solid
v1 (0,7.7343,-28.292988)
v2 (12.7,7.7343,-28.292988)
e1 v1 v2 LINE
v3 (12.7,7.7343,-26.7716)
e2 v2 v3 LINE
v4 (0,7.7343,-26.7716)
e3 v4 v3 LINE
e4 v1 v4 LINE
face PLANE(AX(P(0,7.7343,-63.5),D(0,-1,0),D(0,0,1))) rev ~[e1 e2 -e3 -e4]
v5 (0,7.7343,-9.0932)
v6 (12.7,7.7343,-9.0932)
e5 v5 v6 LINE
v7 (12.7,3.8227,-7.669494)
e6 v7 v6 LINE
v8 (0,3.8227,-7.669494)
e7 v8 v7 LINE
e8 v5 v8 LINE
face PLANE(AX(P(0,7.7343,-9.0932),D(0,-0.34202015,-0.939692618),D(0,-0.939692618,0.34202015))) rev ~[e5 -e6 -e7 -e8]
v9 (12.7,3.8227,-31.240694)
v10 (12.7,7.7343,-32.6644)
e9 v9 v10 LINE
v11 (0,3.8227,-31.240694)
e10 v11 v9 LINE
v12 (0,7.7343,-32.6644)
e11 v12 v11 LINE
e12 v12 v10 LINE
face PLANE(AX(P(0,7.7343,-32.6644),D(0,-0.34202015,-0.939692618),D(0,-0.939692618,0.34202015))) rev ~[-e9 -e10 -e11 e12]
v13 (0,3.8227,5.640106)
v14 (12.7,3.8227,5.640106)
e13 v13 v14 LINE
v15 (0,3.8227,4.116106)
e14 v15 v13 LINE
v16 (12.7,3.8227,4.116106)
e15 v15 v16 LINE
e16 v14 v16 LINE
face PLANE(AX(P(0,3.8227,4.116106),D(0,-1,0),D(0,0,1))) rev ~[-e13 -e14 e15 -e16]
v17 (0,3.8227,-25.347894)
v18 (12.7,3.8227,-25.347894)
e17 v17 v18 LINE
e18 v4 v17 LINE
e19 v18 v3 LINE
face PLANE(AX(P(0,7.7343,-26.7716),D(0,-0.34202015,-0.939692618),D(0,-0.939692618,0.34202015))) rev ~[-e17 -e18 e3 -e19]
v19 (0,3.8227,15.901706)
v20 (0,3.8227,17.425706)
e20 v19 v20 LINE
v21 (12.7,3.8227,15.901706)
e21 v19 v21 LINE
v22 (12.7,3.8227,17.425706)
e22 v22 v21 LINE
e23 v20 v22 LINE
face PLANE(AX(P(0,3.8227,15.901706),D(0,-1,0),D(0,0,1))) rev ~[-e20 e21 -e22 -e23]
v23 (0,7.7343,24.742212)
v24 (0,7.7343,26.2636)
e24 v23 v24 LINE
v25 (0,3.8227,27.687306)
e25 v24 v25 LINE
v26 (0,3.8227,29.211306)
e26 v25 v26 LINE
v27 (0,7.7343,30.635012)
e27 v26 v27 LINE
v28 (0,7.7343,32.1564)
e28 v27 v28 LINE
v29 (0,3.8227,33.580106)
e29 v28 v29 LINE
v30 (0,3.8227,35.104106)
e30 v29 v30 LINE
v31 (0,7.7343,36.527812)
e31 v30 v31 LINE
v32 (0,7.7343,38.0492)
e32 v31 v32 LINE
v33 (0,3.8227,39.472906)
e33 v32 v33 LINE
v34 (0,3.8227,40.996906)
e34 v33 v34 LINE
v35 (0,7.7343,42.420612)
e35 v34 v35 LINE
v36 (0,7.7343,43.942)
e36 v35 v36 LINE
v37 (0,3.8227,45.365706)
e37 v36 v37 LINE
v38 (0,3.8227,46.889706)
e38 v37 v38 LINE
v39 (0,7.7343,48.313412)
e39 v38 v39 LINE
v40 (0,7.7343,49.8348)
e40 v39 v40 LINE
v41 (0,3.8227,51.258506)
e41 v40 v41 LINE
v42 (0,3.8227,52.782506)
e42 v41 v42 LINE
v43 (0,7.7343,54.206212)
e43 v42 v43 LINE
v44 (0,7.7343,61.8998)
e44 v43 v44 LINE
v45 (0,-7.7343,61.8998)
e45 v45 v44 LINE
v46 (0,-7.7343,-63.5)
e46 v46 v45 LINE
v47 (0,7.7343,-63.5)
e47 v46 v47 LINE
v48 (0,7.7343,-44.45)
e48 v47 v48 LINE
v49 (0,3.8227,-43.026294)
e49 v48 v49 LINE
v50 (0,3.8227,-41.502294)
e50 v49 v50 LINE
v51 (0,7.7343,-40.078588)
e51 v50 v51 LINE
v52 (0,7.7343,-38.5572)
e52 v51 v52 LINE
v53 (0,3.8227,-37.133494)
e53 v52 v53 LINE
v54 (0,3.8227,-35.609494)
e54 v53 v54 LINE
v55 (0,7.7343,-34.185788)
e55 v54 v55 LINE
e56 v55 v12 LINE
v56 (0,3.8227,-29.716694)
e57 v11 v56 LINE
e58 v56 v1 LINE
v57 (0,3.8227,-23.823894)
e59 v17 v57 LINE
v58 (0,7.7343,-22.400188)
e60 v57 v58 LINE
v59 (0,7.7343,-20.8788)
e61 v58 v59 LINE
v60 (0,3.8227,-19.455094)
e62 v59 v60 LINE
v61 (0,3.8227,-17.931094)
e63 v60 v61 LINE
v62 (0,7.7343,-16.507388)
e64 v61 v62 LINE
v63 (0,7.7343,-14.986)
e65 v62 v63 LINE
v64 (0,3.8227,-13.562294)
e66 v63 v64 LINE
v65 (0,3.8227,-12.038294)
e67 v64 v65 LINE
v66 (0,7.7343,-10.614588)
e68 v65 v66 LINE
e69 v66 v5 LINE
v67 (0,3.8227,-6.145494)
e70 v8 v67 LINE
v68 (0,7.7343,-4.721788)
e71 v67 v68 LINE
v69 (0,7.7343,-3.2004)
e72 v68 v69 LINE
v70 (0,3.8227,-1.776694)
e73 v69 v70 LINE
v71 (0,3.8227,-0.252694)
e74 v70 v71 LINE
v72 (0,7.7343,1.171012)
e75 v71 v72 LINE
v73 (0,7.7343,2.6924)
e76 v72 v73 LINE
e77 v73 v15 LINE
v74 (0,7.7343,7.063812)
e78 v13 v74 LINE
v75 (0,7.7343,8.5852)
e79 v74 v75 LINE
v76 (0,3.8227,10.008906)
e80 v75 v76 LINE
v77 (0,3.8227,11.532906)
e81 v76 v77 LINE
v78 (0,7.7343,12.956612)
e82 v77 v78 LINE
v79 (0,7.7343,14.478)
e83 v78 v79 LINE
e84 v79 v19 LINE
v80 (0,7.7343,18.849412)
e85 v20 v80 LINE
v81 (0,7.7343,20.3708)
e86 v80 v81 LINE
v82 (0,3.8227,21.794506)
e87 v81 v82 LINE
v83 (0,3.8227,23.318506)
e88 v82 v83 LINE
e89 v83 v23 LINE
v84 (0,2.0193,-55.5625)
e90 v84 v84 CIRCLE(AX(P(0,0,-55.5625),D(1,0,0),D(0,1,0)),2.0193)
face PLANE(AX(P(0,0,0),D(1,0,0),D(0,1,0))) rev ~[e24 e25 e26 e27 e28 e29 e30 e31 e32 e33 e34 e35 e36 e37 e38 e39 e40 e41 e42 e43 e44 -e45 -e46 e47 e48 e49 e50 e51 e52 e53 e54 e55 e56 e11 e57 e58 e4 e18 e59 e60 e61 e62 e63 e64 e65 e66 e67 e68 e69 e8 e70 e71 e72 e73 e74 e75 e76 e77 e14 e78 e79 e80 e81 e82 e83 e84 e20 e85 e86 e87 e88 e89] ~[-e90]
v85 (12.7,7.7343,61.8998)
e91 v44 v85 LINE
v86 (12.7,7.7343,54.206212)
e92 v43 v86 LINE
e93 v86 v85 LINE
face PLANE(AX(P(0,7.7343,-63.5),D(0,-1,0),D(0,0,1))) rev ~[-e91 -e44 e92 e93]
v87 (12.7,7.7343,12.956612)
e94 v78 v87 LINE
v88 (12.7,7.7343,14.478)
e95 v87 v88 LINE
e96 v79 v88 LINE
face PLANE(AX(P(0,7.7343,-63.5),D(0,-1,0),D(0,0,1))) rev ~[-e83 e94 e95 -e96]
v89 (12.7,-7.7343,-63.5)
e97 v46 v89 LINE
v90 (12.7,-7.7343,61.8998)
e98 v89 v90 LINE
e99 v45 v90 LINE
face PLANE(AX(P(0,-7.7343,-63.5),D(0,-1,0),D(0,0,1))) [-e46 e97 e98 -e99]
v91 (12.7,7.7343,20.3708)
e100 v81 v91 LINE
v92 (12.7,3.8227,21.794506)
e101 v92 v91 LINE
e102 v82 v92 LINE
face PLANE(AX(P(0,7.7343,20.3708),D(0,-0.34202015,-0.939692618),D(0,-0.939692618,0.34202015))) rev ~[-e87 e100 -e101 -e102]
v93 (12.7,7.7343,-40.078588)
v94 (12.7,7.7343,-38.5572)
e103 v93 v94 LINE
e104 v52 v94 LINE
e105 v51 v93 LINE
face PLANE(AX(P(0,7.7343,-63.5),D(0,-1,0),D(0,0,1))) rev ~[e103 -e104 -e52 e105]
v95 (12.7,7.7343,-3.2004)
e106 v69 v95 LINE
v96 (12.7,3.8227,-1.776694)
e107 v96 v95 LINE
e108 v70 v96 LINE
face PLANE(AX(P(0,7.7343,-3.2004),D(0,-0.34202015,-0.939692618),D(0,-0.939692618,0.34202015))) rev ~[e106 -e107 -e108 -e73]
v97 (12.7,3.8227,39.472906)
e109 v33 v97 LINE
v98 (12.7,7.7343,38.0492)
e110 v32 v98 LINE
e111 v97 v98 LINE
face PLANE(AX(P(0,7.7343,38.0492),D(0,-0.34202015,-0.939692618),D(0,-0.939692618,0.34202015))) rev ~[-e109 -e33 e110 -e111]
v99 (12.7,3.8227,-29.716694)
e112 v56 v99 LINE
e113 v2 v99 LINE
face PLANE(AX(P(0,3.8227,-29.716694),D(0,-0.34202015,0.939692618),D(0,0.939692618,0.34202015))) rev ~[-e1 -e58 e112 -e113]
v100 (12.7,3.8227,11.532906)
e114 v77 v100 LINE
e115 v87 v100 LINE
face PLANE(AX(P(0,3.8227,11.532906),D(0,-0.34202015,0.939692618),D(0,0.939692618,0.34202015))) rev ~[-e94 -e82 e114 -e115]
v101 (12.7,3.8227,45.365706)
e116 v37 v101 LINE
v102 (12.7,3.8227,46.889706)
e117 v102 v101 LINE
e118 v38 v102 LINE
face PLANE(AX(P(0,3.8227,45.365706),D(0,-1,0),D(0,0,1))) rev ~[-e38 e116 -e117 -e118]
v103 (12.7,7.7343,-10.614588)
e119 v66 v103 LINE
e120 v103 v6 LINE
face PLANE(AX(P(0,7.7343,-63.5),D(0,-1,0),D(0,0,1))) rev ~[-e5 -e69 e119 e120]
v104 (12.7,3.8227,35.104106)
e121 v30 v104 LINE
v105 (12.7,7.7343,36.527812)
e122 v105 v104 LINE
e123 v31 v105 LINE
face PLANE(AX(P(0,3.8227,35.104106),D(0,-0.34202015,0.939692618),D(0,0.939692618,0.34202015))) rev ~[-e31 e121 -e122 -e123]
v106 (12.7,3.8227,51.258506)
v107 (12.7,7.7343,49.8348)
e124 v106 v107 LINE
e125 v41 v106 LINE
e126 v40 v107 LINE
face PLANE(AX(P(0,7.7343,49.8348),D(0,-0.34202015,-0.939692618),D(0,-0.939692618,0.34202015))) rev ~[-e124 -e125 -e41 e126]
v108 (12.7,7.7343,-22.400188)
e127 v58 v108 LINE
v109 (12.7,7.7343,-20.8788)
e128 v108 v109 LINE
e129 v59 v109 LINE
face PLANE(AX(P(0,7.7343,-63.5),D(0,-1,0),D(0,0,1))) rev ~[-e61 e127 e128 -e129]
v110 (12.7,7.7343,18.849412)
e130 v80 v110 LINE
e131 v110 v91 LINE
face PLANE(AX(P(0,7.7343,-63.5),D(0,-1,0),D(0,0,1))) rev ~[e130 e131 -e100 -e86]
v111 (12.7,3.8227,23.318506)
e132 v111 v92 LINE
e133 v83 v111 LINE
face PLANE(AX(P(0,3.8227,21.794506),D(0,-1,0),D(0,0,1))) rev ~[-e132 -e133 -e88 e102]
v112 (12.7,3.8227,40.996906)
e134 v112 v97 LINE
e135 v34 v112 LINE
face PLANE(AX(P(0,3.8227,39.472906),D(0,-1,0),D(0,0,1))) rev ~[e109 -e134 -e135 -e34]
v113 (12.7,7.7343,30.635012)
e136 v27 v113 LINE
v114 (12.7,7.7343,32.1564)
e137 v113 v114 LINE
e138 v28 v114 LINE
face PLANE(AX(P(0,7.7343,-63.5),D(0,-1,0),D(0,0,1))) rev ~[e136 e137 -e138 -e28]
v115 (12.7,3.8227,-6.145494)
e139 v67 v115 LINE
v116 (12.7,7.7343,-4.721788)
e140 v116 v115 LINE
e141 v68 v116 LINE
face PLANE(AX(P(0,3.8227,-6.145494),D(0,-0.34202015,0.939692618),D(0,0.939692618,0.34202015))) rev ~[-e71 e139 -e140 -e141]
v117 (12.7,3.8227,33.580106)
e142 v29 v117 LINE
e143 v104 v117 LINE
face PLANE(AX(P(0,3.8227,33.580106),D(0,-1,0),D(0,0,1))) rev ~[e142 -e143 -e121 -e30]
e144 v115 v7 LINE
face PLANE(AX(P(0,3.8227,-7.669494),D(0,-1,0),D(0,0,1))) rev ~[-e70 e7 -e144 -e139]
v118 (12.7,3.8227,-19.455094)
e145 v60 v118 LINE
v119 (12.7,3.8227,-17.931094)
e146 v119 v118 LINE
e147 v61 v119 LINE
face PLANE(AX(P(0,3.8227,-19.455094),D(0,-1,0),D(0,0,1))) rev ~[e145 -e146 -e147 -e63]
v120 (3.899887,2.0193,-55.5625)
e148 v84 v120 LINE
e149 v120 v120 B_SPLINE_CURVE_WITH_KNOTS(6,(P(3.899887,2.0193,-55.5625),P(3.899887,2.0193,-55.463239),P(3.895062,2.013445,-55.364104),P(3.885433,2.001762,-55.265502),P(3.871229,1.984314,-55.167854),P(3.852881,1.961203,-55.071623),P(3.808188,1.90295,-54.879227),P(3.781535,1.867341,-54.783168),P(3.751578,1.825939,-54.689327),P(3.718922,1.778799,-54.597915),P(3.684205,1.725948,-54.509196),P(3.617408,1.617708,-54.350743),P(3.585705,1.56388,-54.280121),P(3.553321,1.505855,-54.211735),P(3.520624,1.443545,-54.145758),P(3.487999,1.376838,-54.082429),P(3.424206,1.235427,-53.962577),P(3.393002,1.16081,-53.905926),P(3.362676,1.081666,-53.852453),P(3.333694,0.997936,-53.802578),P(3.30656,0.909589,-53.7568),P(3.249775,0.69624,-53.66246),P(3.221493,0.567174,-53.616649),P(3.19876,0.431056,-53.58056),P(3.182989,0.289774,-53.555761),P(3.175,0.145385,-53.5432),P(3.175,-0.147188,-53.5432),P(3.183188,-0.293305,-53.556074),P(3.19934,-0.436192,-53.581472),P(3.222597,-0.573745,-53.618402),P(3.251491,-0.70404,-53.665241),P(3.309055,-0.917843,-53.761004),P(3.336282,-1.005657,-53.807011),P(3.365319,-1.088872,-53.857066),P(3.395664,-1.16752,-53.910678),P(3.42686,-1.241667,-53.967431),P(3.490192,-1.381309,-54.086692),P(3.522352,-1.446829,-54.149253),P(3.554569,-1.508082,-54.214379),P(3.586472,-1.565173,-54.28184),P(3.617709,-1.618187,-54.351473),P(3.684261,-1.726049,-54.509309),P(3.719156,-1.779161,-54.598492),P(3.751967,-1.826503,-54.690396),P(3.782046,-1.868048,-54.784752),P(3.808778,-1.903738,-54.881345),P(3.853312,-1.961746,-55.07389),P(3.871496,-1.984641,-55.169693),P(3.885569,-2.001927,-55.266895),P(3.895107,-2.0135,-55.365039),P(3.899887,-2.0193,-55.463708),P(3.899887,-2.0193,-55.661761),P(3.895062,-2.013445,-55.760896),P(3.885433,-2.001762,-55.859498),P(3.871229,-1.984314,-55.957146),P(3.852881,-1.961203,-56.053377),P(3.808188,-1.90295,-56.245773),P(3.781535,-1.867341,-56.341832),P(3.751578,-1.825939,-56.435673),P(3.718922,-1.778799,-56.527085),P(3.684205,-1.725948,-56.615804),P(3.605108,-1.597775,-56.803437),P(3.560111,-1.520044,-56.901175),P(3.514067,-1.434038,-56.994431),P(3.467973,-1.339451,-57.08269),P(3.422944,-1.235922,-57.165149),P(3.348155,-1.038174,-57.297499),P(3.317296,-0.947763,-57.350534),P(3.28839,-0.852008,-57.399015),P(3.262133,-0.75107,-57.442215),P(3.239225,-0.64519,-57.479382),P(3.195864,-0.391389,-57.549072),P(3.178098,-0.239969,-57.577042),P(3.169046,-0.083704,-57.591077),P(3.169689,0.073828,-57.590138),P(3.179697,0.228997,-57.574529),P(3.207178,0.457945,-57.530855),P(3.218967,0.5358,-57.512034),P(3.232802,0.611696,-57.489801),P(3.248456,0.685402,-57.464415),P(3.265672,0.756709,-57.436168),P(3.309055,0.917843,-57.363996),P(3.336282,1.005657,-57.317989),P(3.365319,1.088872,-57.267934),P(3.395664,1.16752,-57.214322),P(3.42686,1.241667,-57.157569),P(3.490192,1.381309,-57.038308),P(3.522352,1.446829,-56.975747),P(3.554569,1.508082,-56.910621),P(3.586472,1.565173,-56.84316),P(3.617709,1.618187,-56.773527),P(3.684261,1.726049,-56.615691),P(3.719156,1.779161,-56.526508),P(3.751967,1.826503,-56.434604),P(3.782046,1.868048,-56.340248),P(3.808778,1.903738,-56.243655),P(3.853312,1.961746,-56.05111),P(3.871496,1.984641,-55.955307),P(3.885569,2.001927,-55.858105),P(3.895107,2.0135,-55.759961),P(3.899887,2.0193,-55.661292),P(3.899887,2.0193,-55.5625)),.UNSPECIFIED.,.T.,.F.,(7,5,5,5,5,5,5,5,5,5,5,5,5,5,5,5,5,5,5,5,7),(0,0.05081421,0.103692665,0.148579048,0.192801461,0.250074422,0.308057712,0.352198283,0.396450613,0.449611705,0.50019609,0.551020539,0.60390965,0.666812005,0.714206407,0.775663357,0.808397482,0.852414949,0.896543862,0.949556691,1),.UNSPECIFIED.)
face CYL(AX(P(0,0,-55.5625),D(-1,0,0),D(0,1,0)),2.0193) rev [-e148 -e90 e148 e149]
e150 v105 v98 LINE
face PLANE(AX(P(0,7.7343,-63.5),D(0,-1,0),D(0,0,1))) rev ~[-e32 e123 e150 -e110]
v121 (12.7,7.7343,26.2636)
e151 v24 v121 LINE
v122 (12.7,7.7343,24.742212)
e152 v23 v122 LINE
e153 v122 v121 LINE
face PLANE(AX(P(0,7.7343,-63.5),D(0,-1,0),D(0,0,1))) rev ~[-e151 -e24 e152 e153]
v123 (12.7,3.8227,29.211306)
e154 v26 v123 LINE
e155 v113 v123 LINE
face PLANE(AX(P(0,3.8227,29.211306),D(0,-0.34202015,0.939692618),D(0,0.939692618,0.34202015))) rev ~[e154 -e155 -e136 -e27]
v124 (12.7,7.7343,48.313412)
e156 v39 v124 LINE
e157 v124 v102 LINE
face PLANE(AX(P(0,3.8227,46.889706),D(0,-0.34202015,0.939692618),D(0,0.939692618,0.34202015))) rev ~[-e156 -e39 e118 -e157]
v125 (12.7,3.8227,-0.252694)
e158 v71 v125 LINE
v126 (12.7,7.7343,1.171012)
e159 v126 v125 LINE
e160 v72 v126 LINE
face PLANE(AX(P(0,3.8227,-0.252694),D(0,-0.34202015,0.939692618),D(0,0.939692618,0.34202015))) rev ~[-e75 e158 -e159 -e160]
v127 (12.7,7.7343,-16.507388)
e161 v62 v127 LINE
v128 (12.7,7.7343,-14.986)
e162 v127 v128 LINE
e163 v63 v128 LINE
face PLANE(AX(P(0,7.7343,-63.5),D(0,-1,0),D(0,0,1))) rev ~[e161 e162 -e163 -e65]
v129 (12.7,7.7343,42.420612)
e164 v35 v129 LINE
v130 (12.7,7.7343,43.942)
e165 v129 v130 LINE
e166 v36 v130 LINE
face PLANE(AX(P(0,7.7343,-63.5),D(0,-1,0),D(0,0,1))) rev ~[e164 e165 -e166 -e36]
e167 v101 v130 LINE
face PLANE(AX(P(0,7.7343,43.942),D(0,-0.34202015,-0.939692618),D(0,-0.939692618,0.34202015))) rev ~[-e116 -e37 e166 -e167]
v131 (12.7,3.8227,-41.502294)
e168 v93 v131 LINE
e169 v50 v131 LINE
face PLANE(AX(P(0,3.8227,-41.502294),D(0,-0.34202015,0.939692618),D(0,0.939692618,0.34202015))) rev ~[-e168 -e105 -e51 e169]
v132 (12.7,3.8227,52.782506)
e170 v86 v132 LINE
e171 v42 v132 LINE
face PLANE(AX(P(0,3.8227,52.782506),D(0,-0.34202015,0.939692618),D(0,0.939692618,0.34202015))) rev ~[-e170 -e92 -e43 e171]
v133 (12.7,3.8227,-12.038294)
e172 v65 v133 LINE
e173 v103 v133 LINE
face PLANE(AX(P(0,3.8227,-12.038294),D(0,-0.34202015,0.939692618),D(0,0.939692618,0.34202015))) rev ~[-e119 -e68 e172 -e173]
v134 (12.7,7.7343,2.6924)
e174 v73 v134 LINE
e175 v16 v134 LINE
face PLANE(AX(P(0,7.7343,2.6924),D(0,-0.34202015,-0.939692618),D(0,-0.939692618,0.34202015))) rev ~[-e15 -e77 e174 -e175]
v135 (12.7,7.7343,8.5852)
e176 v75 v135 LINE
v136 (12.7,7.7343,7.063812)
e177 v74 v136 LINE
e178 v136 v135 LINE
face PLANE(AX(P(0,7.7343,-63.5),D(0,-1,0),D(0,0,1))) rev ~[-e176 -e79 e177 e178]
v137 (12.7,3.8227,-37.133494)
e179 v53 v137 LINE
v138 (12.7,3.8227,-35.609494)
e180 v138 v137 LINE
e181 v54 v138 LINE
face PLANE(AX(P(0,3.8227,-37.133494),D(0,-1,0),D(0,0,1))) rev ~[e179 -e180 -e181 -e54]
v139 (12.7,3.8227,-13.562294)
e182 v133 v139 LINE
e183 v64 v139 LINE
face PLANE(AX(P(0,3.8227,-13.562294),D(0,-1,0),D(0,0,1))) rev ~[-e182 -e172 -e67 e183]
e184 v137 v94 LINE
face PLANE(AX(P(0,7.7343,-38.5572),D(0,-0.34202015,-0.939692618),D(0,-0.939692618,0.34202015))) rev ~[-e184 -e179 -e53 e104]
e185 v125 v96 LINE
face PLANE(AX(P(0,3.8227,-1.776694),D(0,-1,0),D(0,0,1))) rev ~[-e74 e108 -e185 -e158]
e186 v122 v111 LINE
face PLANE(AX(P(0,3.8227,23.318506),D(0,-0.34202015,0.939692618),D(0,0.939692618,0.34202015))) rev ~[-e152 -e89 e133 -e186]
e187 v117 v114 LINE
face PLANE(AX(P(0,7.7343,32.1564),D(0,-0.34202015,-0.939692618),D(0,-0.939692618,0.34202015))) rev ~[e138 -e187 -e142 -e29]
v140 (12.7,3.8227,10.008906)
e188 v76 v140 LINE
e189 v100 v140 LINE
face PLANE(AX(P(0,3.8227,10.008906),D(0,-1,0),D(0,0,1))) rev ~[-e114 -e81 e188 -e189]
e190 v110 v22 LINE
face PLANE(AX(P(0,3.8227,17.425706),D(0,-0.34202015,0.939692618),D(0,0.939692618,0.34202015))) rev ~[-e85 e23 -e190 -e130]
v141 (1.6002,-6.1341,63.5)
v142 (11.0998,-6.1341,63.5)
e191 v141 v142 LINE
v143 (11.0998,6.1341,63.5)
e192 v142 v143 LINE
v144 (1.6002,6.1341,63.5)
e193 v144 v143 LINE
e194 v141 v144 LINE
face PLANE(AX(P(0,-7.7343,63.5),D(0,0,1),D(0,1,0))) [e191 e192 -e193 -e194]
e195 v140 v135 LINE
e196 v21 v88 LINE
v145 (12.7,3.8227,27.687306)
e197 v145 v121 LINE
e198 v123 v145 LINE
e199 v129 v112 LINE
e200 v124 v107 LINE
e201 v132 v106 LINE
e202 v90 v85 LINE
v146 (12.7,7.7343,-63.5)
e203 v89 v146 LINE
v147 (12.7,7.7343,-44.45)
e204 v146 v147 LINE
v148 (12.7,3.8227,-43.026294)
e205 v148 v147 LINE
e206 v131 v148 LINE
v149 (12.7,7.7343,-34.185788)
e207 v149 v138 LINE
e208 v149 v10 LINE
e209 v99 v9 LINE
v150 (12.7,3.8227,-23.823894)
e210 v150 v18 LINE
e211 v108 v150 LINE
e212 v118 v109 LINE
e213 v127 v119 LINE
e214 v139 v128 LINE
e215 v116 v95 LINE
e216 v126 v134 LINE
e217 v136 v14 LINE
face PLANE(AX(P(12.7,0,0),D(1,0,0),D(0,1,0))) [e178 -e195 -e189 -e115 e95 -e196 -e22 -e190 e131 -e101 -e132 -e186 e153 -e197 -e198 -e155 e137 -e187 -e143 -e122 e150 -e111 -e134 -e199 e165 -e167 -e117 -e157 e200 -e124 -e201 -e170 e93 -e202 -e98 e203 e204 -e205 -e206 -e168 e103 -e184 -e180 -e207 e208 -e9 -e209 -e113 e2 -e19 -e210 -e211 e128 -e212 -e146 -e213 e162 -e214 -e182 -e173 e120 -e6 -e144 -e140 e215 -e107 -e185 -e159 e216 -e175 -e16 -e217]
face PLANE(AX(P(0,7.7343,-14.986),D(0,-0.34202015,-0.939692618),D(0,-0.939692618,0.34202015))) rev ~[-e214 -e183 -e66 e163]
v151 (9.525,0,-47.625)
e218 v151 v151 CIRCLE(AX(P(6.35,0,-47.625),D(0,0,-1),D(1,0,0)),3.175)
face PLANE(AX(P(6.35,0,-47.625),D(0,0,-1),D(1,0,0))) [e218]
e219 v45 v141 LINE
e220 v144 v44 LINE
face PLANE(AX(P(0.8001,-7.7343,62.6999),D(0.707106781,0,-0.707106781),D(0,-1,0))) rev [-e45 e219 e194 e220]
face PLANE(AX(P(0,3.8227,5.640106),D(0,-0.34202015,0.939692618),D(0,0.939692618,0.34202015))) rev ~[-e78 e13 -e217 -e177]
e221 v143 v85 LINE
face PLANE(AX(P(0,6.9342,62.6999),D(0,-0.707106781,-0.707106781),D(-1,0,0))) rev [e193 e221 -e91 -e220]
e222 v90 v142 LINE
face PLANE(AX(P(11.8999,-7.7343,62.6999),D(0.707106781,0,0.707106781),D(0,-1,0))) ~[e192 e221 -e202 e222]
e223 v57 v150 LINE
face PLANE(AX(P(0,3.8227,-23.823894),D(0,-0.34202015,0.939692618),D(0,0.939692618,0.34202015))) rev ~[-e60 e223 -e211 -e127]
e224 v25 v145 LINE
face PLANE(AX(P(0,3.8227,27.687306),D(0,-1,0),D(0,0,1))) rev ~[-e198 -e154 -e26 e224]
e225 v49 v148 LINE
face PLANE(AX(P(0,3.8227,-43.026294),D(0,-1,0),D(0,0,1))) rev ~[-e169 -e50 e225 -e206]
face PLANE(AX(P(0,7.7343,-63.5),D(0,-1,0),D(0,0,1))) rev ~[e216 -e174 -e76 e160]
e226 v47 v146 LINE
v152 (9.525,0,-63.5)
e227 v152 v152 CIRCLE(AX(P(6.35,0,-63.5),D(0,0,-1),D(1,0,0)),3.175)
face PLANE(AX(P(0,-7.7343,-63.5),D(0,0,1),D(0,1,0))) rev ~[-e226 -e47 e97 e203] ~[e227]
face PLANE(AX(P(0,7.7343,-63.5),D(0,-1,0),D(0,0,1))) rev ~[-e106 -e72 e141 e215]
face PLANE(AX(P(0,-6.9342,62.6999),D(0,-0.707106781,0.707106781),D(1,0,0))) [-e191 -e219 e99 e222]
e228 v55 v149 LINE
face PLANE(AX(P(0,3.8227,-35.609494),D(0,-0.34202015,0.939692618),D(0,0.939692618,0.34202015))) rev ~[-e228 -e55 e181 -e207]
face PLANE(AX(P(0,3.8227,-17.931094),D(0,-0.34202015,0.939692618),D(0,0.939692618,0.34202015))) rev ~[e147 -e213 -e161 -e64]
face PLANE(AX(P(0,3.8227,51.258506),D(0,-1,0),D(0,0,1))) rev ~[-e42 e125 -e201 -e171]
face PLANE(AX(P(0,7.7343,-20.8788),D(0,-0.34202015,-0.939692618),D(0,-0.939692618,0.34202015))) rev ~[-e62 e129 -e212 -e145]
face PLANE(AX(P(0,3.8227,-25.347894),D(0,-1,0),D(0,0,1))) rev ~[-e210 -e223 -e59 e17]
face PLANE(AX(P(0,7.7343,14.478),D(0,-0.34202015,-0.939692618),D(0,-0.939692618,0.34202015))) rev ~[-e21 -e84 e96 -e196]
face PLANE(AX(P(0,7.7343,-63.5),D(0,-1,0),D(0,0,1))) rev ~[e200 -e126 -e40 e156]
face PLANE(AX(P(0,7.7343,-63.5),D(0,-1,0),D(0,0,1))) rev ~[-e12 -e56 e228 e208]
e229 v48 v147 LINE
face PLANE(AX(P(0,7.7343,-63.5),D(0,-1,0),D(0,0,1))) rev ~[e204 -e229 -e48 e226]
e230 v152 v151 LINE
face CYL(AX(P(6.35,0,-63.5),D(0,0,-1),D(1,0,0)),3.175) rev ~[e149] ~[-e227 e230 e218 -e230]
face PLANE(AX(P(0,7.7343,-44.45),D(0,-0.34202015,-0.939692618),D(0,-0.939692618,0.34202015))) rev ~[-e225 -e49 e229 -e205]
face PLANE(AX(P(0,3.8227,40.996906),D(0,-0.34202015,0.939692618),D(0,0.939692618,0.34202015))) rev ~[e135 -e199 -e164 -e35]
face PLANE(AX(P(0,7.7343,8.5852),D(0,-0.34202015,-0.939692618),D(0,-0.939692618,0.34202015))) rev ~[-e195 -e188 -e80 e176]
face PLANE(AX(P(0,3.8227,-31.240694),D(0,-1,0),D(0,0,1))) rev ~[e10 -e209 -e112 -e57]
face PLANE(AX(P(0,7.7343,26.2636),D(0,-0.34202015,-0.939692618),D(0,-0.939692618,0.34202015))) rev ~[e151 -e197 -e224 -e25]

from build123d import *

# Parameters (mm, degrees)
F0_W     = 15.4686
F0_H     = 127
F1_DEPTH = 12.7
F2_R     = 2.0193
F3_DEPTH = 6.35
F4_R     = 3.175
F5_DEPTH = 15.875
F6_SIZE  = 1.6002
F8_DEPTH = 25.4


with BuildPart() as f1:
    # F0 (on Right) → F1 (new body)
    with BuildSketch(Plane.YZ):
        Rectangle(F0_W, F0_H)
    extrude(amount=F1_DEPTH)

    # F2 (on Right) → F3 (cut)
    with BuildSketch(Plane.YZ):
        with Locations((0, -55.5625)):
            Circle(F2_R)
    extrude(amount=F3_DEPTH, mode=Mode.SUBTRACT)

    # F4 (on face) → F5 (cut)
    with BuildSketch(Plane(origin=(0, 0, -63.5), x_dir=(1, 0, 0), z_dir=(0, 0, -1))):
        with Locations((6.35, 0)):
            Circle(F4_R)
    extrude(amount=-F5_DEPTH, mode=Mode.SUBTRACT)

    # F6
    f6_edges = [f1.edges().sort_by_distance(p)[0] for p in [
        (6.35, 7.7343, 63.5),
        (6.35, -7.7343, 63.5),
        (0, 0, 63.5),
        (12.7, 0, 63.5),
    ]]
    chamfer(f6_edges, length=F6_SIZE)

    # F7 (on face) → F8 (cut)
    with BuildSketch(Plane(origin=(0, 0, 0), x_dir=(0, -1, 0), z_dir=(-1, 0, 0))):
        Polygon((-3.8227, -43.026294), (-3.8227, -41.502294), (-7.7343, -40.078588), (-7.7343, -44.45), align=None)
        Polygon((-7.7343, 54.206212), (-7.7343, 49.8348), (-3.8227, 51.258506), (-3.8227, 52.782506), align=None)
        Polygon((-7.7343, 48.313412), (-7.7343, 43.942), (-3.8227, 45.365706), (-3.8227, 46.889706), align=None)
        Polygon((-7.7343, 42.420612), (-7.7343, 38.0492), (-3.8227, 39.472906), (-3.8227, 40.996906), align=None)
        Polygon((-7.7343, 36.527812), (-7.7343, 32.1564), (-3.8227, 33.580106), (-3.8227, 35.104106), align=None)
        Polygon((-7.7343, 30.635012), (-7.7343, 26.2636), (-3.8227, 27.687306), (-3.8227, 29.211306), align=None)
        Polygon((-7.7343, 24.742212), (-7.7343, 20.3708), (-3.8227, 21.794506), (-3.8227, 23.318506), align=None)
        Polygon((-7.7343, 18.849412), (-7.7343, 14.478), (-3.8227, 15.901706), (-3.8227, 17.425706), align=None)
        Polygon((-7.7343, 12.956612), (-7.7343, 8.5852), (-3.8227, 10.008906), (-3.8227, 11.532906), align=None)
        Polygon((-7.7343, 7.063812), (-7.7343, 2.6924), (-3.8227, 4.116106), (-3.8227, 5.640106), align=None)
        Polygon((-7.7343, 1.171012), (-7.7343, -3.2004), (-3.8227, -1.776694), (-3.8227, -0.252694), align=None)
        Polygon((-7.7343, -4.721788), (-7.7343, -9.0932), (-3.8227, -7.669494), (-3.8227, -6.145494), align=None)
        Polygon((-7.7343, -10.614588), (-7.7343, -14.986), (-3.8227, -13.562294), (-3.8227, -12.038294), align=None)
        Polygon((-7.7343, -16.507388), (-7.7343, -20.8788), (-3.8227, -19.455094), (-3.8227, -17.931094), align=None)
        Polygon((-7.7343, -22.400188), (-7.7343, -26.7716), (-3.8227, -25.347894), (-3.8227, -23.823894), align=None)
        Polygon((-7.7343, -28.292988), (-7.7343, -32.6644), (-3.8227, -31.240694), (-3.8227, -29.716694), align=None)
        Polygon((-7.7343, -34.185788), (-7.7343, -38.5572), (-3.8227, -37.133494), (-3.8227, -35.609494), align=None)
    extrude(amount=-F8_DEPTH, mode=Mode.SUBTRACT)


solid = f1.part
